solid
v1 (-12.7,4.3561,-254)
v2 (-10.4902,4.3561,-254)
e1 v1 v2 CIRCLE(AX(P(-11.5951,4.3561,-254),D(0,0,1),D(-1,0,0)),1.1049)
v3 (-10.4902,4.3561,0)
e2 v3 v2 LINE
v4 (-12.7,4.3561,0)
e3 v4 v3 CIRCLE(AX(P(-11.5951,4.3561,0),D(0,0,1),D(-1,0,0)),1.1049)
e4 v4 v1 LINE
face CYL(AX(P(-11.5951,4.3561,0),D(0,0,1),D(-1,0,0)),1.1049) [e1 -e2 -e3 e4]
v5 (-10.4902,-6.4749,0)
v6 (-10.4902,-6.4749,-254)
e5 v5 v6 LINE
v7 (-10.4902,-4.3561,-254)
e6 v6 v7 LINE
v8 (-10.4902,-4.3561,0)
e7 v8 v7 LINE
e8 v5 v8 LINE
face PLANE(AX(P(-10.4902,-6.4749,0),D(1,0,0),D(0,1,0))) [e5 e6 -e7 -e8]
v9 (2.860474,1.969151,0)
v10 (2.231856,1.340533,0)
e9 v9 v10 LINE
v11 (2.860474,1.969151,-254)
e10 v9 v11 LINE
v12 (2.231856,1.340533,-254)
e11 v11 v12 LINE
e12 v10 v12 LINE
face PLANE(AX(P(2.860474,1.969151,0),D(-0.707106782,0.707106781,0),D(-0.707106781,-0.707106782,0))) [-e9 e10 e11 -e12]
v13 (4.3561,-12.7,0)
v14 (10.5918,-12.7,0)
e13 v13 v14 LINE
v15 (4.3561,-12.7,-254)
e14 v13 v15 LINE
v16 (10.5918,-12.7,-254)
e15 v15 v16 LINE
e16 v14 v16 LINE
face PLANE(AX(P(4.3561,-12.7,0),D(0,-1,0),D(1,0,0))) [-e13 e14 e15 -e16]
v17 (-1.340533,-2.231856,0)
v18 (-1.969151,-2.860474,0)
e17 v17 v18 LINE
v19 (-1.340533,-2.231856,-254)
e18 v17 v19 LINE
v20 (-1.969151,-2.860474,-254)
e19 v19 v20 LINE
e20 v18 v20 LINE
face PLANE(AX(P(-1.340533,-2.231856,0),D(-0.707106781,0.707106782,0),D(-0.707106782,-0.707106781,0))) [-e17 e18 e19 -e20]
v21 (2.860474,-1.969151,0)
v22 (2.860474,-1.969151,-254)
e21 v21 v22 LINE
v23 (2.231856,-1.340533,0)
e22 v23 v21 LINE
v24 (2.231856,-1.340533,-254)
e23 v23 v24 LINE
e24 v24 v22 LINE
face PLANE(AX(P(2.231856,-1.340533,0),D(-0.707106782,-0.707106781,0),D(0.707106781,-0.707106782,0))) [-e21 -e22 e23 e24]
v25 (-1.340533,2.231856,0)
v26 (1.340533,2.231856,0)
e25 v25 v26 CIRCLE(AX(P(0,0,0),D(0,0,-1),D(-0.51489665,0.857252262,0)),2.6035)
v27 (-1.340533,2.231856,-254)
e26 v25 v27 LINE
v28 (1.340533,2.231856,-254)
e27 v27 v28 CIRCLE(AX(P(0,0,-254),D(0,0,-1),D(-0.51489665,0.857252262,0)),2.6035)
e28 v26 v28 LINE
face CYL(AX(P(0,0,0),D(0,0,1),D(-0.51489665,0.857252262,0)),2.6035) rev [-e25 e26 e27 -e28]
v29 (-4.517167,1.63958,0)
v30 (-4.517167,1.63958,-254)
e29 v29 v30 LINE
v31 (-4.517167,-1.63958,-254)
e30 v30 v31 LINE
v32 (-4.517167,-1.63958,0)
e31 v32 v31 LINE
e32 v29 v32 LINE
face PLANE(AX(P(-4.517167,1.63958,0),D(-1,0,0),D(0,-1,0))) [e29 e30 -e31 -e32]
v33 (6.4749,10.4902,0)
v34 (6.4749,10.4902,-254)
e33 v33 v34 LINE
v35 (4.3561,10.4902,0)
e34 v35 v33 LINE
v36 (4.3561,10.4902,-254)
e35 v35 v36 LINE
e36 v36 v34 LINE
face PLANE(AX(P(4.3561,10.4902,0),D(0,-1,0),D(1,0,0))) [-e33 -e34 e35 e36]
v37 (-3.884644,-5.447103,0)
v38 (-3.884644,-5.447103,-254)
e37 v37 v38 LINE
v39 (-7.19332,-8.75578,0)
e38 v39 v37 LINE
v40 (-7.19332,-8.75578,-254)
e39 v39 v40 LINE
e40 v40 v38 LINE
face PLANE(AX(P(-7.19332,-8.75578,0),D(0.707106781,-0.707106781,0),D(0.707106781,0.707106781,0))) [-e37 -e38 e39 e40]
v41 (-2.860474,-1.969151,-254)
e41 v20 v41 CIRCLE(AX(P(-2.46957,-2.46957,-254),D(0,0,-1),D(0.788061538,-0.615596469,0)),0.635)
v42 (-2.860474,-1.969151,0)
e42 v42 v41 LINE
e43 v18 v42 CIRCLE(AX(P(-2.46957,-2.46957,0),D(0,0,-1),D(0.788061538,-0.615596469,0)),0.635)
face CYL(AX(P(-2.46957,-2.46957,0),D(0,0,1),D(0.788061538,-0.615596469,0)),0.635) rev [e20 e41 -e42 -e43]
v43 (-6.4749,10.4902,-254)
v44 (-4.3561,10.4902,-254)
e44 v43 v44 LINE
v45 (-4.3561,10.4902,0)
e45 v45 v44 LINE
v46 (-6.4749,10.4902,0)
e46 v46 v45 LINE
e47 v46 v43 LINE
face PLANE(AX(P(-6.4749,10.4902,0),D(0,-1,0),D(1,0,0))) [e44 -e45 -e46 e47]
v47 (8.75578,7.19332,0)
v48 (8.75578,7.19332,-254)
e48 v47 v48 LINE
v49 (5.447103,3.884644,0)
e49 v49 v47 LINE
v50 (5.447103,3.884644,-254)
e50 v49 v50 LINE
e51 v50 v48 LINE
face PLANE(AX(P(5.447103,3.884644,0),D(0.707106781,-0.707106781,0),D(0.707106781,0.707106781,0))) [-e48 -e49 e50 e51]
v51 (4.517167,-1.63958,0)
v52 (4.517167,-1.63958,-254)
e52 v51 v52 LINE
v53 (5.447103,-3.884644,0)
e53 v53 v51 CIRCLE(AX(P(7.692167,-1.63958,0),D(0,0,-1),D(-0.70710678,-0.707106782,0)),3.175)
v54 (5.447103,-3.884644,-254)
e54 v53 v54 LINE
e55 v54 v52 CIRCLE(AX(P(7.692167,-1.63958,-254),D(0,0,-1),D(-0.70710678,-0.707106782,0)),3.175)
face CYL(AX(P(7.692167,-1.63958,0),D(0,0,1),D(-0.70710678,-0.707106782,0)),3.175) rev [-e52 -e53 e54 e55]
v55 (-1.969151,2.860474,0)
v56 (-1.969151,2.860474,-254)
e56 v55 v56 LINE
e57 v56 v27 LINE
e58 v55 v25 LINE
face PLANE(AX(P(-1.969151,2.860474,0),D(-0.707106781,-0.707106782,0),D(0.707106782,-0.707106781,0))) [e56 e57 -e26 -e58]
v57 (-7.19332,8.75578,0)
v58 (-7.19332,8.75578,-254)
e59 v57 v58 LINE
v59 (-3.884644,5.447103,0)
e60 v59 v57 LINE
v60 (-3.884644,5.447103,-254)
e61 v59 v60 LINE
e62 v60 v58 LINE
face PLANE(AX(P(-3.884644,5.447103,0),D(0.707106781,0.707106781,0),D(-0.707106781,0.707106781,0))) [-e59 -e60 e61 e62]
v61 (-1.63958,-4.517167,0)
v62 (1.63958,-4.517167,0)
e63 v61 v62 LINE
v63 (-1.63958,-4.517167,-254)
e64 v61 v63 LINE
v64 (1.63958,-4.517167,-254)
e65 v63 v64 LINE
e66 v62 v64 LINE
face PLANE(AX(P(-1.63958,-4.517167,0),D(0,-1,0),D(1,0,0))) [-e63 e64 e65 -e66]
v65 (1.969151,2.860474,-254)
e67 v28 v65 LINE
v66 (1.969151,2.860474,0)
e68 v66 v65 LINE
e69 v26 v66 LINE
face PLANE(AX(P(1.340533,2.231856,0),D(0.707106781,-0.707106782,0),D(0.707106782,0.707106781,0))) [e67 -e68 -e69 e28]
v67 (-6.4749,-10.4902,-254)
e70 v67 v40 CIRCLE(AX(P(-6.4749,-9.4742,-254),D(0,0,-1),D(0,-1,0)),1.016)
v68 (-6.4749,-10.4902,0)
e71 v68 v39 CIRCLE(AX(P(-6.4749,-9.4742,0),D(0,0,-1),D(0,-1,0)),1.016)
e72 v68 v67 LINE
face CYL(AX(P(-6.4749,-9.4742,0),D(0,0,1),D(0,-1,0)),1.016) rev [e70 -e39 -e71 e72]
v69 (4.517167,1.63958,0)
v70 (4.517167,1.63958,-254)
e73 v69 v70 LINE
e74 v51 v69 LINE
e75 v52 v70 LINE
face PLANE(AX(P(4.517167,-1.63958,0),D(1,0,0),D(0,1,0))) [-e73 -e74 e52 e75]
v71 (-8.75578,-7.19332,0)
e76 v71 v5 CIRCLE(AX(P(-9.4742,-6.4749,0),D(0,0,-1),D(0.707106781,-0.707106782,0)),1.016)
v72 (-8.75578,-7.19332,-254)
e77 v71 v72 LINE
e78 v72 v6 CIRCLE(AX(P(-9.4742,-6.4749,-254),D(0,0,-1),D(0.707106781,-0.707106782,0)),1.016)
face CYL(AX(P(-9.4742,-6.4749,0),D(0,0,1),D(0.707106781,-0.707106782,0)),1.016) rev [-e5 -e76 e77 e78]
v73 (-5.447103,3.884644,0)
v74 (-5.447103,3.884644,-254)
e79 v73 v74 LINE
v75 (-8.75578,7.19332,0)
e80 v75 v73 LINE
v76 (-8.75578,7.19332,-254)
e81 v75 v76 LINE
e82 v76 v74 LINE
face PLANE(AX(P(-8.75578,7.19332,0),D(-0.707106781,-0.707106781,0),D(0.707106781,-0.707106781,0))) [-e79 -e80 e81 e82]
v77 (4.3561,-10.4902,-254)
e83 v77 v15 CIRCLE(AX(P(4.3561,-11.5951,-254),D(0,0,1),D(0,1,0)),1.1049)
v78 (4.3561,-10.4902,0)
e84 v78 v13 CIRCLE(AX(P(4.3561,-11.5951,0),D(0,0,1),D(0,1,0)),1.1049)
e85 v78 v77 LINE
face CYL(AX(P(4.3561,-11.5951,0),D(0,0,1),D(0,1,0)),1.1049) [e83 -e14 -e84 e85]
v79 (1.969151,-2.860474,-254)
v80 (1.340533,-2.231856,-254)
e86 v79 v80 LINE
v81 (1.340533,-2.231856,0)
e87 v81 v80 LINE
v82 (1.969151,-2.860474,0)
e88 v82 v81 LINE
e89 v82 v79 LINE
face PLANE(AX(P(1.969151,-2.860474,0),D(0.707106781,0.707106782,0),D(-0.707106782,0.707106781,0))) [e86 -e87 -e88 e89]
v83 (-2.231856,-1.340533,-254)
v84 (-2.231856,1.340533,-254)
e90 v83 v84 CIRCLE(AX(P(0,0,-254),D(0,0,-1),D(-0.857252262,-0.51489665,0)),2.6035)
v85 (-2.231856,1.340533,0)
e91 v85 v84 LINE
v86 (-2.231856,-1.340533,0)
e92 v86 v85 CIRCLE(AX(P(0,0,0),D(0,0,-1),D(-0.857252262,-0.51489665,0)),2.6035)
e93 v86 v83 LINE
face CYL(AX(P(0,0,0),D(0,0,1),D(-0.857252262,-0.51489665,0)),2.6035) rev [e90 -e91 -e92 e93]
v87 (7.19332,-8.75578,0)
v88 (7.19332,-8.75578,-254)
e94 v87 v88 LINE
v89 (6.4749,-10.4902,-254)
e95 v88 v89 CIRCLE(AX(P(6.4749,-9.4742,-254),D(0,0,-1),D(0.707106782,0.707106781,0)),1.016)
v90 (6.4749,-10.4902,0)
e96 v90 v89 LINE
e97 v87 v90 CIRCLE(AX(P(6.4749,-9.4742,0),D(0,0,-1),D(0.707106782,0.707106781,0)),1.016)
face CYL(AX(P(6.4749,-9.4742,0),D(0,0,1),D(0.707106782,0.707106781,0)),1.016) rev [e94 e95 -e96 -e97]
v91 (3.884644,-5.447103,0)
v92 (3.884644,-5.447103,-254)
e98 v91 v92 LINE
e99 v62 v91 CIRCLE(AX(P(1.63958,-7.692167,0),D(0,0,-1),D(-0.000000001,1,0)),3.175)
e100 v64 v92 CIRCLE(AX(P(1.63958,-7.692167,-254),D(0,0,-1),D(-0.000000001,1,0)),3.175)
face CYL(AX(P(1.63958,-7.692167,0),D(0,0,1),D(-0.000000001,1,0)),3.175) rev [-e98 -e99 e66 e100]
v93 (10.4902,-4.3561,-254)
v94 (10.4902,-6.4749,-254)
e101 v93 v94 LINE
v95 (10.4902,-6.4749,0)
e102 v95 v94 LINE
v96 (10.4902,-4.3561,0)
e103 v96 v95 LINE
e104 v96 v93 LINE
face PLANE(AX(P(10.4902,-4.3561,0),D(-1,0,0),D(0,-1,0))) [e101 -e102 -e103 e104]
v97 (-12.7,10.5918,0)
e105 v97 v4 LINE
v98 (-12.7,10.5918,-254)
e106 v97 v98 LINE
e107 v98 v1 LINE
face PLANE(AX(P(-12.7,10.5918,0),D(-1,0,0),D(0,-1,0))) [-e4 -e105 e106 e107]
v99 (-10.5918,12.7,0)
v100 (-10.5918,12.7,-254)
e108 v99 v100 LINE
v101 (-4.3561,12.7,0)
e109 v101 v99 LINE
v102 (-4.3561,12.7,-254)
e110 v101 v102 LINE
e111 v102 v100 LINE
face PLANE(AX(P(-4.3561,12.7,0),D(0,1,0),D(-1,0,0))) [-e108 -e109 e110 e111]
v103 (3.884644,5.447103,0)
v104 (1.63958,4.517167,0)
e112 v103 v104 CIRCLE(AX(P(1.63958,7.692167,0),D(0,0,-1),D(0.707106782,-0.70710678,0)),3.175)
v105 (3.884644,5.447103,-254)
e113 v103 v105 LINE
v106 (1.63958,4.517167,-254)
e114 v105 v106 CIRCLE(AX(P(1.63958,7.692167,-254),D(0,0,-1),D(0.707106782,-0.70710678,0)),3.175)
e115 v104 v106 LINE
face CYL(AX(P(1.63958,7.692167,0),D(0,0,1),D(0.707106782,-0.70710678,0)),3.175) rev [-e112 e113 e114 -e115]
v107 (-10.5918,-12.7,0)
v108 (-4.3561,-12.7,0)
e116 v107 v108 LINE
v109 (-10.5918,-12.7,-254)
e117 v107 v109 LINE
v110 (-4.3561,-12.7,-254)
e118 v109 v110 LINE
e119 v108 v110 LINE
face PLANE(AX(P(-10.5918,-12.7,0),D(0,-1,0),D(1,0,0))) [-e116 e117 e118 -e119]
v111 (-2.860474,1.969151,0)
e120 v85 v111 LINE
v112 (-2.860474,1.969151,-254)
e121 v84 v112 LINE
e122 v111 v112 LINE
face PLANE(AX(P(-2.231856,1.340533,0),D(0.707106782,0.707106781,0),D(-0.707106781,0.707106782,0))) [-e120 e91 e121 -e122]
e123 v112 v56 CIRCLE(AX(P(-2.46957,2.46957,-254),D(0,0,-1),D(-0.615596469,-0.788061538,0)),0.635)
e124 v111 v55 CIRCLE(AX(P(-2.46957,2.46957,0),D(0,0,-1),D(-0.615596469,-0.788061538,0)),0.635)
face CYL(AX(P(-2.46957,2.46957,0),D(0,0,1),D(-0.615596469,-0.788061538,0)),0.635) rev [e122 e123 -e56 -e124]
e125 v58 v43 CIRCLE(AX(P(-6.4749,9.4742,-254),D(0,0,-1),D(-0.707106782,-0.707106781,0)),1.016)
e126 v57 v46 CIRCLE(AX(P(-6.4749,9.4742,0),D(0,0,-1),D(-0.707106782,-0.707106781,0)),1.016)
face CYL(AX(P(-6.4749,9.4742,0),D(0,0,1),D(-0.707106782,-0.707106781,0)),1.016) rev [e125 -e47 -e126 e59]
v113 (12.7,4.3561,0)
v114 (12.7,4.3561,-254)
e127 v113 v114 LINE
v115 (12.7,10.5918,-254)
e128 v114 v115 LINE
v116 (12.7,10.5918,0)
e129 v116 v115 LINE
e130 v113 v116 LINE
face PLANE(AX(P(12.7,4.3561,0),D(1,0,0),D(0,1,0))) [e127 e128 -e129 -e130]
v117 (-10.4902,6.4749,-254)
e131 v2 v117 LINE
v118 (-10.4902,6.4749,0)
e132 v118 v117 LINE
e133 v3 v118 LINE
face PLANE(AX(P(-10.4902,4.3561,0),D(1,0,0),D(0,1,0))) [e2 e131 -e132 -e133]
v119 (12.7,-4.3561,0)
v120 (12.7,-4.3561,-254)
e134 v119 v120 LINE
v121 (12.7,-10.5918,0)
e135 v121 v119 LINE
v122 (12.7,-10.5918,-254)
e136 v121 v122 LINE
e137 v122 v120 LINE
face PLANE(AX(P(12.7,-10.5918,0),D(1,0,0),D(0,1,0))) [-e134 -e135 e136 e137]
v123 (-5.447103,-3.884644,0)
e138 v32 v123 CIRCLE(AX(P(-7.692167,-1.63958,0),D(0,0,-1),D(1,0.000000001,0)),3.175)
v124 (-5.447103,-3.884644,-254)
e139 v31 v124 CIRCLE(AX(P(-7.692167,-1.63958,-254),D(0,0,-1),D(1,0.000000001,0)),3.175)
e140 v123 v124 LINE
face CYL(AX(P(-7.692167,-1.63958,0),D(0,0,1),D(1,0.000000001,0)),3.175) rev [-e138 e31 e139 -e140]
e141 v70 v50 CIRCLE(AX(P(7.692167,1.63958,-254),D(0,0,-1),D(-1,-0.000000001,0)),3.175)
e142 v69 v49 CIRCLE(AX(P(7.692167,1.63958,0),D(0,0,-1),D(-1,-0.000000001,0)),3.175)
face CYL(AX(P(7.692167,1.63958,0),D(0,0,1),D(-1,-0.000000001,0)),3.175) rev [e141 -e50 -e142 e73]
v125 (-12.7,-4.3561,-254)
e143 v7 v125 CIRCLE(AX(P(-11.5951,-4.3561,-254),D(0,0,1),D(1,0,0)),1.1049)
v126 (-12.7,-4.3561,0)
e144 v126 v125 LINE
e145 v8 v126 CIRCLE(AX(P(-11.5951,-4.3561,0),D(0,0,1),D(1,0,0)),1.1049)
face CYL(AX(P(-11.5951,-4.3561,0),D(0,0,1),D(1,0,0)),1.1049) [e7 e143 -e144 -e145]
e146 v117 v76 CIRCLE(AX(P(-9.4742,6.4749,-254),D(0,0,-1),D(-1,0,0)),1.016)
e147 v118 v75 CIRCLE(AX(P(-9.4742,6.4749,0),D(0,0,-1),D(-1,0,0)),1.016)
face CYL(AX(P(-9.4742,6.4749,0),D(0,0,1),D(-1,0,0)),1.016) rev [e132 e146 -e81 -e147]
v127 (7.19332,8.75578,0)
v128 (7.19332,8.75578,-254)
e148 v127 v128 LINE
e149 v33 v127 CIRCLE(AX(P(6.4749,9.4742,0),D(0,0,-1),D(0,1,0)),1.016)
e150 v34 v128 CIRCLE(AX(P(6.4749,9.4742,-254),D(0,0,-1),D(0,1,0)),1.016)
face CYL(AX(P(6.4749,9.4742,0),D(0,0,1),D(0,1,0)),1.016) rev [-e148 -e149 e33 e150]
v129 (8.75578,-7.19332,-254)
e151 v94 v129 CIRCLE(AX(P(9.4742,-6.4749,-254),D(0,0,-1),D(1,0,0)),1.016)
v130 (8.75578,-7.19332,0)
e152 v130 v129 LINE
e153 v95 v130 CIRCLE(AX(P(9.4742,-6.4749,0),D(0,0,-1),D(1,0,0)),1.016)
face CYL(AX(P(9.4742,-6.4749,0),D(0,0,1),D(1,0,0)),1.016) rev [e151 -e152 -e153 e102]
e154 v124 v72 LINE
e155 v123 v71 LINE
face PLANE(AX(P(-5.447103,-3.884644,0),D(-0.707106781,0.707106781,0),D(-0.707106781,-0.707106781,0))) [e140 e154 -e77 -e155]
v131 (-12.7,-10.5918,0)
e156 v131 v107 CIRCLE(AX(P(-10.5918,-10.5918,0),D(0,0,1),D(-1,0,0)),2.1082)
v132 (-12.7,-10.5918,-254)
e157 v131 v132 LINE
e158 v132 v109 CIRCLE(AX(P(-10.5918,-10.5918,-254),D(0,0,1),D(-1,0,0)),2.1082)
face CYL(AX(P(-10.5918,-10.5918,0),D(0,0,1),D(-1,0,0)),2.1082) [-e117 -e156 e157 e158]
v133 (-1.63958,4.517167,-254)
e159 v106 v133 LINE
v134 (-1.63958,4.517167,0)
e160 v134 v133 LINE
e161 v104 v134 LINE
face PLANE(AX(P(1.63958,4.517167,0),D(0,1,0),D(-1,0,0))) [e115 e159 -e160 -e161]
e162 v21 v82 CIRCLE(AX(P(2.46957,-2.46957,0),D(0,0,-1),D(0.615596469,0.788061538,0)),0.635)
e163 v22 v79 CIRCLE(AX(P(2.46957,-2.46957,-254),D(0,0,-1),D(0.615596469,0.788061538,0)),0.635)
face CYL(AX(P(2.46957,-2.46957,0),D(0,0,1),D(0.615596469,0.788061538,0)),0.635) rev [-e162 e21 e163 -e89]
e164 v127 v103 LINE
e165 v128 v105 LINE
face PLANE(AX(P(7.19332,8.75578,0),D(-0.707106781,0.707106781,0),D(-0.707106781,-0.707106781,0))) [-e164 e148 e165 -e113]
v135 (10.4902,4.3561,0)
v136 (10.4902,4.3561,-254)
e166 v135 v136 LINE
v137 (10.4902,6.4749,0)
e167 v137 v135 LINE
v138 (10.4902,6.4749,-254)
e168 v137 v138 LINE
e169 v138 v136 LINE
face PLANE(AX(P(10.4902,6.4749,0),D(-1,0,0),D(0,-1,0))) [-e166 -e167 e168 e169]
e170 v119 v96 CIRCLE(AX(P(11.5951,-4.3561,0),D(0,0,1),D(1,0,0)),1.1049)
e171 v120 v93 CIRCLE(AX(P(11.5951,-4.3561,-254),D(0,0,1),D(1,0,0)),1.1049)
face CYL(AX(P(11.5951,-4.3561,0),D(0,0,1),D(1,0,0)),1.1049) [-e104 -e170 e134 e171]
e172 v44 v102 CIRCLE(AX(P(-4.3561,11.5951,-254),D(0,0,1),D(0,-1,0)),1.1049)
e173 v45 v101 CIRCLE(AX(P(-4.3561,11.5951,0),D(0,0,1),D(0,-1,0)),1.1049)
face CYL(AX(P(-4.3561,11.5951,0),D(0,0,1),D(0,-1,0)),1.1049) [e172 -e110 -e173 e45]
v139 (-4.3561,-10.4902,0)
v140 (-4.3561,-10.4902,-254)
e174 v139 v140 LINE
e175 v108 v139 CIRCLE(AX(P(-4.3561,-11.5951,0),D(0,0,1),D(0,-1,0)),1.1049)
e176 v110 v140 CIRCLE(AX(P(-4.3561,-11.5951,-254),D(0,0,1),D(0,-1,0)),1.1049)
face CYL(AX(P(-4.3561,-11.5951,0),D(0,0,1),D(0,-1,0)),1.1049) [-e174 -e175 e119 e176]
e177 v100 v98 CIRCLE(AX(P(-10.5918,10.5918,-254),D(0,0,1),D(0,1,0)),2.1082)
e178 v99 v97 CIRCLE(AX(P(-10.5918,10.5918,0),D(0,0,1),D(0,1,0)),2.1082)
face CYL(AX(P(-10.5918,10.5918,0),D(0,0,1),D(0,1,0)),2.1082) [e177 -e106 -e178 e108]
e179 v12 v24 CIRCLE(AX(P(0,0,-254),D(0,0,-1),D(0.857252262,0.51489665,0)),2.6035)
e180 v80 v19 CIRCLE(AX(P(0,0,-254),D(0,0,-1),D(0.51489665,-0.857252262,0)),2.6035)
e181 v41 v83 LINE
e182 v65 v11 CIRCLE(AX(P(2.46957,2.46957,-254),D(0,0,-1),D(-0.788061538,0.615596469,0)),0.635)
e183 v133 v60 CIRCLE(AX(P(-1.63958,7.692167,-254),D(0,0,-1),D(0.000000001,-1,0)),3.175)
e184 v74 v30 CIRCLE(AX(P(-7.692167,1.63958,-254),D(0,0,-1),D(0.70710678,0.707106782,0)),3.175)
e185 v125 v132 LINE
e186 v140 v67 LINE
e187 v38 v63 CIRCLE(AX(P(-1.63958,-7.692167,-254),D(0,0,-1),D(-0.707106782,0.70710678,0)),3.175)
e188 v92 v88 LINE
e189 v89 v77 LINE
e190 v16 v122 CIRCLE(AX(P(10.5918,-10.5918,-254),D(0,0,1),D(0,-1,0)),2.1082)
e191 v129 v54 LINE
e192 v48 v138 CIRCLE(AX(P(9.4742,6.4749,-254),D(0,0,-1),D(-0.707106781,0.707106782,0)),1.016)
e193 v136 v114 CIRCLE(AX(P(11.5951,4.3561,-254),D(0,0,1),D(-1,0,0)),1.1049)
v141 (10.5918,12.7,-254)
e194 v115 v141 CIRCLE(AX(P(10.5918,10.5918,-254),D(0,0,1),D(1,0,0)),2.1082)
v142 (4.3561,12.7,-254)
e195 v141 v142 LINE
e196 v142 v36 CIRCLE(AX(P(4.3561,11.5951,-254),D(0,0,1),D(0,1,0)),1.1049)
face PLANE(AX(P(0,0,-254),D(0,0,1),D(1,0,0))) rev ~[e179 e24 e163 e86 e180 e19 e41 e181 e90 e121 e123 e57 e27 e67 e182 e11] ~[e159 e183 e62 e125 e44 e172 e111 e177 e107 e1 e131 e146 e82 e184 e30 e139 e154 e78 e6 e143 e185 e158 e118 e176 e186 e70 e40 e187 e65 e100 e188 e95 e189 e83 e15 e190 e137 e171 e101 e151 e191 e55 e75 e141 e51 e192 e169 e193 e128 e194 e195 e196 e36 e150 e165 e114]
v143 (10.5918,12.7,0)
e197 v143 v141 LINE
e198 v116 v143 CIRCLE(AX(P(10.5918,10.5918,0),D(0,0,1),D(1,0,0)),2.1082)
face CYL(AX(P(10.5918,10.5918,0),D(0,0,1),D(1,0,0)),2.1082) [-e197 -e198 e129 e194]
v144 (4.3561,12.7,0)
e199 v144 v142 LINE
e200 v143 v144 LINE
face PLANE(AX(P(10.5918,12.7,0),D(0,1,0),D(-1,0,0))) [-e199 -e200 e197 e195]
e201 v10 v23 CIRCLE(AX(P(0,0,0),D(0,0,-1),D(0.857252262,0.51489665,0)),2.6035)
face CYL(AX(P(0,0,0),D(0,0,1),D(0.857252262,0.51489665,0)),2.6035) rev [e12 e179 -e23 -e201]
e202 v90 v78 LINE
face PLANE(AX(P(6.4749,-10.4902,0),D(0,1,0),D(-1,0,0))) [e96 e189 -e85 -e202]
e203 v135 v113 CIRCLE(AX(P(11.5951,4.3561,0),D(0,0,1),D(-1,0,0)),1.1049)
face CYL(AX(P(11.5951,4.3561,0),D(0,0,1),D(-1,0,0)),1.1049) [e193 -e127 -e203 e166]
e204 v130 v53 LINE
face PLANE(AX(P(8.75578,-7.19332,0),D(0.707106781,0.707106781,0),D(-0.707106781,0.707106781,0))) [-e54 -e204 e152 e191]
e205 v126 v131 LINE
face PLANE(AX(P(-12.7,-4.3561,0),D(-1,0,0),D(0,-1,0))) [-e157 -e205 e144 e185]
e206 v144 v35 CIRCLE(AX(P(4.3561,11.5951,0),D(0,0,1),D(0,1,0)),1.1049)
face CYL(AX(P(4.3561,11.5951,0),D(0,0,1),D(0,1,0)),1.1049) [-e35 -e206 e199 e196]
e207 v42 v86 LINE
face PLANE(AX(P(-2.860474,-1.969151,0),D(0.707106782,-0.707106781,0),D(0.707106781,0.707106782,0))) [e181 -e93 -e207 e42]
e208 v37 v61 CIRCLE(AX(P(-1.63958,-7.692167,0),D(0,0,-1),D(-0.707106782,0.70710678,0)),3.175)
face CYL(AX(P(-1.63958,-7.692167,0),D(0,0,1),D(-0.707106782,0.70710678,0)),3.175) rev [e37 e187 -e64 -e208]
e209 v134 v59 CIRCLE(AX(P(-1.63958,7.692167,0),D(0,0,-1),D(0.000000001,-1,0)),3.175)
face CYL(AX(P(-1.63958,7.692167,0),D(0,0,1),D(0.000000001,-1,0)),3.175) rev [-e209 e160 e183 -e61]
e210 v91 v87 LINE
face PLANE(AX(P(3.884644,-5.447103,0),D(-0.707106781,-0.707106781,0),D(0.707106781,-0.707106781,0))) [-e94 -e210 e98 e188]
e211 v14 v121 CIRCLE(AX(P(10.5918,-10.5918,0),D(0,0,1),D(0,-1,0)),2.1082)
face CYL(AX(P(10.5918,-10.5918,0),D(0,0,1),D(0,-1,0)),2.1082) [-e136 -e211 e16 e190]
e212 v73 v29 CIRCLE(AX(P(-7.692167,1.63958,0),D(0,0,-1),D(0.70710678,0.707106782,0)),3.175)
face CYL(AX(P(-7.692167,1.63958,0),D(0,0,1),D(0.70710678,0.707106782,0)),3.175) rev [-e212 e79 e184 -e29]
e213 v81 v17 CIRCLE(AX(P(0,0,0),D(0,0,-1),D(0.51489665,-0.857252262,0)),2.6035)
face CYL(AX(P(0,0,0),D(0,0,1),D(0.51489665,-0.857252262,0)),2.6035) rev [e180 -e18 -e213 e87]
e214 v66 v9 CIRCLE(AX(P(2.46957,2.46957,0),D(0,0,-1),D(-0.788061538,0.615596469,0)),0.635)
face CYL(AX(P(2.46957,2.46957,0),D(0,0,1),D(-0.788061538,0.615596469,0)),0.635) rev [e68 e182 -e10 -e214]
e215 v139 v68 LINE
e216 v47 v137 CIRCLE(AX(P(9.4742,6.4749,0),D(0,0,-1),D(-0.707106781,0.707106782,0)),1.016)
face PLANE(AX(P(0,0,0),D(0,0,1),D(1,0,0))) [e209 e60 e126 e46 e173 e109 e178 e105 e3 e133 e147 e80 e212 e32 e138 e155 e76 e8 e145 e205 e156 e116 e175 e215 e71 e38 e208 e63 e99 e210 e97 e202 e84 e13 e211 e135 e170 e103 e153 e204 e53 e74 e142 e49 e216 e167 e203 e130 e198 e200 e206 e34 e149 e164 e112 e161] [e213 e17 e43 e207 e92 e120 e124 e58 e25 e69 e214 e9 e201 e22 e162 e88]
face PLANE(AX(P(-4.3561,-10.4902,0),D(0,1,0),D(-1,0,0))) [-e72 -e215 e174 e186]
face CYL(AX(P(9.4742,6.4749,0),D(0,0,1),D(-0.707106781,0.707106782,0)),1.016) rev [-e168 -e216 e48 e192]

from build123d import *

# Parameters (mm, degrees)
EXTRUDE1_DEPTH = 254


with BuildPart() as part:
    # Sketch1 → Extrude1 (new body)
    with BuildSketch(Plane.XY):
        with BuildLine():
            Line((-3.88464389, 5.447103113), (-7.193320288, 8.75577951))
            ThreePointArc((-7.193320288, 8.75577951), (-7.413561403, 9.863006367), (-6.474899798, 10.4902))
            Line((-6.474899798, 10.4902), (-4.3561, 10.4902))
            ThreePointArc((-4.3561, 10.4902), (-3.2512, 11.5951), (-4.3561, 12.7))
            Line((-4.3561, 12.7), (-10.5918, 12.7))
            ThreePointArc((-10.5918, 12.7), (-12.082522516, 12.082522516), (-12.7, 10.5918))
            Line((-12.7, 10.5918), (-12.7, 4.3561))
            ThreePointArc((-12.7, 4.3561), (-11.5951, 3.2512), (-10.4902, 4.3561))
            Line((-10.4902, 4.3561), (-10.4902, 6.474899798))
            ThreePointArc((-10.4902, 6.474899798), (-9.863006367, 7.413561403), (-8.75577951, 7.193320288))
            Line((-8.75577951, 7.193320288), (-5.447103113, 3.88464389))
            ThreePointArc((-5.447103113, 3.88464389), (-4.758849627, 2.854599758), (-4.517167143, 1.63957986))
            Line((-4.517167143, 1.63957986), (-4.517167143, -1.63957986))
            ThreePointArc((-4.517167143, -1.63957986), (-4.758849627, -2.854599758), (-5.447103113, -3.88464389))
            Line((-5.447103113, -3.88464389), (-8.75577951, -7.193320288))
            ThreePointArc((-8.75577951, -7.193320288), (-9.863006367, -7.413561403), (-10.4902, -6.474899798))
            Line((-10.4902, -6.474899798), (-10.4902, -4.3561))
            ThreePointArc((-10.4902, -4.3561), (-11.5951, -3.2512), (-12.7, -4.3561))
            Line((-12.7, -4.3561), (-12.7, -10.5918))
            ThreePointArc((-12.7, -10.5918), (-12.082522516, -12.082522516), (-10.5918, -12.7))
            Line((-10.5918, -12.7), (-4.3561, -12.7))
            ThreePointArc((-4.3561, -12.7), (-3.2512, -11.5951), (-4.3561, -10.4902))
            Line((-4.3561, -10.4902), (-6.474899798, -10.4902))
            ThreePointArc((-6.474899798, -10.4902), (-7.413561403, -9.863006367), (-7.193320288, -8.75577951))
            Line((-7.193320288, -8.75577951), (-3.88464389, -5.447103113))
            ThreePointArc((-3.88464389, -5.447103113), (-2.854599758, -4.758849627), (-1.63957986, -4.517167143))
            Line((-1.63957986, -4.517167143), (1.63957986, -4.517167143))
            ThreePointArc((1.63957986, -4.517167143), (2.854599758, -4.758849627), (3.88464389, -5.447103113))
            Line((3.88464389, -5.447103113), (7.193320288, -8.75577951))
            ThreePointArc((7.193320288, -8.75577951), (7.413561403, -9.863006367), (6.474899798, -10.4902))
            Line((6.474899798, -10.4902), (4.3561, -10.4902))
            ThreePointArc((4.3561, -10.4902), (3.2512, -11.5951), (4.3561, -12.7))
            Line((4.3561, -12.7), (10.5918, -12.7))
            ThreePointArc((10.5918, -12.7), (12.082522516, -12.082522516), (12.7, -10.5918))
            Line((12.7, -10.5918), (12.7, -4.3561))
            ThreePointArc((12.7, -4.3561), (11.5951, -3.2512), (10.4902, -4.3561))
            Line((10.4902, -4.3561), (10.4902, -6.474899798))
            ThreePointArc((10.4902, -6.474899798), (9.863006367, -7.413561403), (8.75577951, -7.193320288))
            Line((8.75577951, -7.193320288), (5.447103113, -3.88464389))
            ThreePointArc((5.447103113, -3.88464389), (4.758849627, -2.854599758), (4.517167143, -1.63957986))
            Line((4.517167143, -1.63957986), (4.517167143, 1.63957986))
            ThreePointArc((4.517167143, 1.63957986), (4.758849627, 2.854599758), (5.447103113, 3.88464389))
            Line((5.447103113, 3.88464389), (8.75577951, 7.193320288))
            ThreePointArc((8.75577951, 7.193320288), (9.863006367, 7.413561403), (10.4902, 6.474899798))
            Line((10.4902, 6.474899798), (10.4902, 4.3561))
            ThreePointArc((10.4902, 4.3561), (11.5951, 3.2512), (12.7, 4.3561))
            Line((12.7, 4.3561), (12.7, 10.5918))
            ThreePointArc((12.7, 10.5918), (12.082522516, 12.082522516), (10.5918, 12.7))
            Line((10.5918, 12.7), (4.3561, 12.7))
            ThreePointArc((4.3561, 12.7), (3.2512, 11.5951), (4.3561, 10.4902))
            Line((4.3561, 10.4902), (6.474899798, 10.4902))
            ThreePointArc((6.474899798, 10.4902), (7.413561403, 9.863006367), (7.193320288, 8.75577951))
            Line((7.193320288, 8.75577951), (3.88464389, 5.447103113))
            ThreePointArc((3.88464389, 5.447103113), (2.854599758, 4.758849627), (1.63957986, 4.517167143))
            Line((1.63957986, 4.517167143), (-1.63957986, 4.517167143))
            ThreePointArc((-1.63957986, 4.517167143), (-2.854599758, 4.758849627), (-3.88464389, 5.447103113))
        make_face()
        with BuildLine():
            Line((-2.860474191, -1.969151357), (-2.231856263, -1.340533428))
            ThreePointArc((-2.231856263, -1.340533428), (-2.6035, 0), (-2.231856263, 1.340533428))
            Line((-2.231856263, 1.340533428), (-2.860474191, 1.969151357))
            ThreePointArc((-2.860474191, 1.969151357), (-2.918583239, 2.918583239), (-1.969151357, 2.860474191))
            Line((-1.969151357, 2.860474191), (-1.340533428, 2.231856263))
            ThreePointArc((-1.340533428, 2.231856263), (0, 2.6035), (1.340533428, 2.231856263))
            Line((1.340533428, 2.231856263), (1.969151357, 2.860474191))
            ThreePointArc((1.969151357, 2.860474191), (2.918583239, 2.918583239), (2.860474191, 1.969151357))
            Line((2.860474191, 1.969151357), (2.231856263, 1.340533428))
            ThreePointArc((2.231856263, 1.340533428), (2.6035, 0), (2.231856263, -1.340533428))
            Line((2.231856263, -1.340533428), (2.860474191, -1.969151357))
            ThreePointArc((2.860474191, -1.969151357), (2.918583239, -2.918583239), (1.969151357, -2.860474191))
            Line((1.969151357, -2.860474191), (1.340533428, -2.231856263))
            ThreePointArc((1.340533428, -2.231856263), (0, -2.6035), (-1.340533428, -2.231856263))
            Line((-1.340533428, -2.231856263), (-1.969151357, -2.860474191))
            ThreePointArc((-1.969151357, -2.860474191), (-2.918583239, -2.918583239), (-2.860474191, -1.969151357))
        make_face(mode=Mode.SUBTRACT)
    extrude(amount=-EXTRUDE1_DEPTH)


solid = part.part
